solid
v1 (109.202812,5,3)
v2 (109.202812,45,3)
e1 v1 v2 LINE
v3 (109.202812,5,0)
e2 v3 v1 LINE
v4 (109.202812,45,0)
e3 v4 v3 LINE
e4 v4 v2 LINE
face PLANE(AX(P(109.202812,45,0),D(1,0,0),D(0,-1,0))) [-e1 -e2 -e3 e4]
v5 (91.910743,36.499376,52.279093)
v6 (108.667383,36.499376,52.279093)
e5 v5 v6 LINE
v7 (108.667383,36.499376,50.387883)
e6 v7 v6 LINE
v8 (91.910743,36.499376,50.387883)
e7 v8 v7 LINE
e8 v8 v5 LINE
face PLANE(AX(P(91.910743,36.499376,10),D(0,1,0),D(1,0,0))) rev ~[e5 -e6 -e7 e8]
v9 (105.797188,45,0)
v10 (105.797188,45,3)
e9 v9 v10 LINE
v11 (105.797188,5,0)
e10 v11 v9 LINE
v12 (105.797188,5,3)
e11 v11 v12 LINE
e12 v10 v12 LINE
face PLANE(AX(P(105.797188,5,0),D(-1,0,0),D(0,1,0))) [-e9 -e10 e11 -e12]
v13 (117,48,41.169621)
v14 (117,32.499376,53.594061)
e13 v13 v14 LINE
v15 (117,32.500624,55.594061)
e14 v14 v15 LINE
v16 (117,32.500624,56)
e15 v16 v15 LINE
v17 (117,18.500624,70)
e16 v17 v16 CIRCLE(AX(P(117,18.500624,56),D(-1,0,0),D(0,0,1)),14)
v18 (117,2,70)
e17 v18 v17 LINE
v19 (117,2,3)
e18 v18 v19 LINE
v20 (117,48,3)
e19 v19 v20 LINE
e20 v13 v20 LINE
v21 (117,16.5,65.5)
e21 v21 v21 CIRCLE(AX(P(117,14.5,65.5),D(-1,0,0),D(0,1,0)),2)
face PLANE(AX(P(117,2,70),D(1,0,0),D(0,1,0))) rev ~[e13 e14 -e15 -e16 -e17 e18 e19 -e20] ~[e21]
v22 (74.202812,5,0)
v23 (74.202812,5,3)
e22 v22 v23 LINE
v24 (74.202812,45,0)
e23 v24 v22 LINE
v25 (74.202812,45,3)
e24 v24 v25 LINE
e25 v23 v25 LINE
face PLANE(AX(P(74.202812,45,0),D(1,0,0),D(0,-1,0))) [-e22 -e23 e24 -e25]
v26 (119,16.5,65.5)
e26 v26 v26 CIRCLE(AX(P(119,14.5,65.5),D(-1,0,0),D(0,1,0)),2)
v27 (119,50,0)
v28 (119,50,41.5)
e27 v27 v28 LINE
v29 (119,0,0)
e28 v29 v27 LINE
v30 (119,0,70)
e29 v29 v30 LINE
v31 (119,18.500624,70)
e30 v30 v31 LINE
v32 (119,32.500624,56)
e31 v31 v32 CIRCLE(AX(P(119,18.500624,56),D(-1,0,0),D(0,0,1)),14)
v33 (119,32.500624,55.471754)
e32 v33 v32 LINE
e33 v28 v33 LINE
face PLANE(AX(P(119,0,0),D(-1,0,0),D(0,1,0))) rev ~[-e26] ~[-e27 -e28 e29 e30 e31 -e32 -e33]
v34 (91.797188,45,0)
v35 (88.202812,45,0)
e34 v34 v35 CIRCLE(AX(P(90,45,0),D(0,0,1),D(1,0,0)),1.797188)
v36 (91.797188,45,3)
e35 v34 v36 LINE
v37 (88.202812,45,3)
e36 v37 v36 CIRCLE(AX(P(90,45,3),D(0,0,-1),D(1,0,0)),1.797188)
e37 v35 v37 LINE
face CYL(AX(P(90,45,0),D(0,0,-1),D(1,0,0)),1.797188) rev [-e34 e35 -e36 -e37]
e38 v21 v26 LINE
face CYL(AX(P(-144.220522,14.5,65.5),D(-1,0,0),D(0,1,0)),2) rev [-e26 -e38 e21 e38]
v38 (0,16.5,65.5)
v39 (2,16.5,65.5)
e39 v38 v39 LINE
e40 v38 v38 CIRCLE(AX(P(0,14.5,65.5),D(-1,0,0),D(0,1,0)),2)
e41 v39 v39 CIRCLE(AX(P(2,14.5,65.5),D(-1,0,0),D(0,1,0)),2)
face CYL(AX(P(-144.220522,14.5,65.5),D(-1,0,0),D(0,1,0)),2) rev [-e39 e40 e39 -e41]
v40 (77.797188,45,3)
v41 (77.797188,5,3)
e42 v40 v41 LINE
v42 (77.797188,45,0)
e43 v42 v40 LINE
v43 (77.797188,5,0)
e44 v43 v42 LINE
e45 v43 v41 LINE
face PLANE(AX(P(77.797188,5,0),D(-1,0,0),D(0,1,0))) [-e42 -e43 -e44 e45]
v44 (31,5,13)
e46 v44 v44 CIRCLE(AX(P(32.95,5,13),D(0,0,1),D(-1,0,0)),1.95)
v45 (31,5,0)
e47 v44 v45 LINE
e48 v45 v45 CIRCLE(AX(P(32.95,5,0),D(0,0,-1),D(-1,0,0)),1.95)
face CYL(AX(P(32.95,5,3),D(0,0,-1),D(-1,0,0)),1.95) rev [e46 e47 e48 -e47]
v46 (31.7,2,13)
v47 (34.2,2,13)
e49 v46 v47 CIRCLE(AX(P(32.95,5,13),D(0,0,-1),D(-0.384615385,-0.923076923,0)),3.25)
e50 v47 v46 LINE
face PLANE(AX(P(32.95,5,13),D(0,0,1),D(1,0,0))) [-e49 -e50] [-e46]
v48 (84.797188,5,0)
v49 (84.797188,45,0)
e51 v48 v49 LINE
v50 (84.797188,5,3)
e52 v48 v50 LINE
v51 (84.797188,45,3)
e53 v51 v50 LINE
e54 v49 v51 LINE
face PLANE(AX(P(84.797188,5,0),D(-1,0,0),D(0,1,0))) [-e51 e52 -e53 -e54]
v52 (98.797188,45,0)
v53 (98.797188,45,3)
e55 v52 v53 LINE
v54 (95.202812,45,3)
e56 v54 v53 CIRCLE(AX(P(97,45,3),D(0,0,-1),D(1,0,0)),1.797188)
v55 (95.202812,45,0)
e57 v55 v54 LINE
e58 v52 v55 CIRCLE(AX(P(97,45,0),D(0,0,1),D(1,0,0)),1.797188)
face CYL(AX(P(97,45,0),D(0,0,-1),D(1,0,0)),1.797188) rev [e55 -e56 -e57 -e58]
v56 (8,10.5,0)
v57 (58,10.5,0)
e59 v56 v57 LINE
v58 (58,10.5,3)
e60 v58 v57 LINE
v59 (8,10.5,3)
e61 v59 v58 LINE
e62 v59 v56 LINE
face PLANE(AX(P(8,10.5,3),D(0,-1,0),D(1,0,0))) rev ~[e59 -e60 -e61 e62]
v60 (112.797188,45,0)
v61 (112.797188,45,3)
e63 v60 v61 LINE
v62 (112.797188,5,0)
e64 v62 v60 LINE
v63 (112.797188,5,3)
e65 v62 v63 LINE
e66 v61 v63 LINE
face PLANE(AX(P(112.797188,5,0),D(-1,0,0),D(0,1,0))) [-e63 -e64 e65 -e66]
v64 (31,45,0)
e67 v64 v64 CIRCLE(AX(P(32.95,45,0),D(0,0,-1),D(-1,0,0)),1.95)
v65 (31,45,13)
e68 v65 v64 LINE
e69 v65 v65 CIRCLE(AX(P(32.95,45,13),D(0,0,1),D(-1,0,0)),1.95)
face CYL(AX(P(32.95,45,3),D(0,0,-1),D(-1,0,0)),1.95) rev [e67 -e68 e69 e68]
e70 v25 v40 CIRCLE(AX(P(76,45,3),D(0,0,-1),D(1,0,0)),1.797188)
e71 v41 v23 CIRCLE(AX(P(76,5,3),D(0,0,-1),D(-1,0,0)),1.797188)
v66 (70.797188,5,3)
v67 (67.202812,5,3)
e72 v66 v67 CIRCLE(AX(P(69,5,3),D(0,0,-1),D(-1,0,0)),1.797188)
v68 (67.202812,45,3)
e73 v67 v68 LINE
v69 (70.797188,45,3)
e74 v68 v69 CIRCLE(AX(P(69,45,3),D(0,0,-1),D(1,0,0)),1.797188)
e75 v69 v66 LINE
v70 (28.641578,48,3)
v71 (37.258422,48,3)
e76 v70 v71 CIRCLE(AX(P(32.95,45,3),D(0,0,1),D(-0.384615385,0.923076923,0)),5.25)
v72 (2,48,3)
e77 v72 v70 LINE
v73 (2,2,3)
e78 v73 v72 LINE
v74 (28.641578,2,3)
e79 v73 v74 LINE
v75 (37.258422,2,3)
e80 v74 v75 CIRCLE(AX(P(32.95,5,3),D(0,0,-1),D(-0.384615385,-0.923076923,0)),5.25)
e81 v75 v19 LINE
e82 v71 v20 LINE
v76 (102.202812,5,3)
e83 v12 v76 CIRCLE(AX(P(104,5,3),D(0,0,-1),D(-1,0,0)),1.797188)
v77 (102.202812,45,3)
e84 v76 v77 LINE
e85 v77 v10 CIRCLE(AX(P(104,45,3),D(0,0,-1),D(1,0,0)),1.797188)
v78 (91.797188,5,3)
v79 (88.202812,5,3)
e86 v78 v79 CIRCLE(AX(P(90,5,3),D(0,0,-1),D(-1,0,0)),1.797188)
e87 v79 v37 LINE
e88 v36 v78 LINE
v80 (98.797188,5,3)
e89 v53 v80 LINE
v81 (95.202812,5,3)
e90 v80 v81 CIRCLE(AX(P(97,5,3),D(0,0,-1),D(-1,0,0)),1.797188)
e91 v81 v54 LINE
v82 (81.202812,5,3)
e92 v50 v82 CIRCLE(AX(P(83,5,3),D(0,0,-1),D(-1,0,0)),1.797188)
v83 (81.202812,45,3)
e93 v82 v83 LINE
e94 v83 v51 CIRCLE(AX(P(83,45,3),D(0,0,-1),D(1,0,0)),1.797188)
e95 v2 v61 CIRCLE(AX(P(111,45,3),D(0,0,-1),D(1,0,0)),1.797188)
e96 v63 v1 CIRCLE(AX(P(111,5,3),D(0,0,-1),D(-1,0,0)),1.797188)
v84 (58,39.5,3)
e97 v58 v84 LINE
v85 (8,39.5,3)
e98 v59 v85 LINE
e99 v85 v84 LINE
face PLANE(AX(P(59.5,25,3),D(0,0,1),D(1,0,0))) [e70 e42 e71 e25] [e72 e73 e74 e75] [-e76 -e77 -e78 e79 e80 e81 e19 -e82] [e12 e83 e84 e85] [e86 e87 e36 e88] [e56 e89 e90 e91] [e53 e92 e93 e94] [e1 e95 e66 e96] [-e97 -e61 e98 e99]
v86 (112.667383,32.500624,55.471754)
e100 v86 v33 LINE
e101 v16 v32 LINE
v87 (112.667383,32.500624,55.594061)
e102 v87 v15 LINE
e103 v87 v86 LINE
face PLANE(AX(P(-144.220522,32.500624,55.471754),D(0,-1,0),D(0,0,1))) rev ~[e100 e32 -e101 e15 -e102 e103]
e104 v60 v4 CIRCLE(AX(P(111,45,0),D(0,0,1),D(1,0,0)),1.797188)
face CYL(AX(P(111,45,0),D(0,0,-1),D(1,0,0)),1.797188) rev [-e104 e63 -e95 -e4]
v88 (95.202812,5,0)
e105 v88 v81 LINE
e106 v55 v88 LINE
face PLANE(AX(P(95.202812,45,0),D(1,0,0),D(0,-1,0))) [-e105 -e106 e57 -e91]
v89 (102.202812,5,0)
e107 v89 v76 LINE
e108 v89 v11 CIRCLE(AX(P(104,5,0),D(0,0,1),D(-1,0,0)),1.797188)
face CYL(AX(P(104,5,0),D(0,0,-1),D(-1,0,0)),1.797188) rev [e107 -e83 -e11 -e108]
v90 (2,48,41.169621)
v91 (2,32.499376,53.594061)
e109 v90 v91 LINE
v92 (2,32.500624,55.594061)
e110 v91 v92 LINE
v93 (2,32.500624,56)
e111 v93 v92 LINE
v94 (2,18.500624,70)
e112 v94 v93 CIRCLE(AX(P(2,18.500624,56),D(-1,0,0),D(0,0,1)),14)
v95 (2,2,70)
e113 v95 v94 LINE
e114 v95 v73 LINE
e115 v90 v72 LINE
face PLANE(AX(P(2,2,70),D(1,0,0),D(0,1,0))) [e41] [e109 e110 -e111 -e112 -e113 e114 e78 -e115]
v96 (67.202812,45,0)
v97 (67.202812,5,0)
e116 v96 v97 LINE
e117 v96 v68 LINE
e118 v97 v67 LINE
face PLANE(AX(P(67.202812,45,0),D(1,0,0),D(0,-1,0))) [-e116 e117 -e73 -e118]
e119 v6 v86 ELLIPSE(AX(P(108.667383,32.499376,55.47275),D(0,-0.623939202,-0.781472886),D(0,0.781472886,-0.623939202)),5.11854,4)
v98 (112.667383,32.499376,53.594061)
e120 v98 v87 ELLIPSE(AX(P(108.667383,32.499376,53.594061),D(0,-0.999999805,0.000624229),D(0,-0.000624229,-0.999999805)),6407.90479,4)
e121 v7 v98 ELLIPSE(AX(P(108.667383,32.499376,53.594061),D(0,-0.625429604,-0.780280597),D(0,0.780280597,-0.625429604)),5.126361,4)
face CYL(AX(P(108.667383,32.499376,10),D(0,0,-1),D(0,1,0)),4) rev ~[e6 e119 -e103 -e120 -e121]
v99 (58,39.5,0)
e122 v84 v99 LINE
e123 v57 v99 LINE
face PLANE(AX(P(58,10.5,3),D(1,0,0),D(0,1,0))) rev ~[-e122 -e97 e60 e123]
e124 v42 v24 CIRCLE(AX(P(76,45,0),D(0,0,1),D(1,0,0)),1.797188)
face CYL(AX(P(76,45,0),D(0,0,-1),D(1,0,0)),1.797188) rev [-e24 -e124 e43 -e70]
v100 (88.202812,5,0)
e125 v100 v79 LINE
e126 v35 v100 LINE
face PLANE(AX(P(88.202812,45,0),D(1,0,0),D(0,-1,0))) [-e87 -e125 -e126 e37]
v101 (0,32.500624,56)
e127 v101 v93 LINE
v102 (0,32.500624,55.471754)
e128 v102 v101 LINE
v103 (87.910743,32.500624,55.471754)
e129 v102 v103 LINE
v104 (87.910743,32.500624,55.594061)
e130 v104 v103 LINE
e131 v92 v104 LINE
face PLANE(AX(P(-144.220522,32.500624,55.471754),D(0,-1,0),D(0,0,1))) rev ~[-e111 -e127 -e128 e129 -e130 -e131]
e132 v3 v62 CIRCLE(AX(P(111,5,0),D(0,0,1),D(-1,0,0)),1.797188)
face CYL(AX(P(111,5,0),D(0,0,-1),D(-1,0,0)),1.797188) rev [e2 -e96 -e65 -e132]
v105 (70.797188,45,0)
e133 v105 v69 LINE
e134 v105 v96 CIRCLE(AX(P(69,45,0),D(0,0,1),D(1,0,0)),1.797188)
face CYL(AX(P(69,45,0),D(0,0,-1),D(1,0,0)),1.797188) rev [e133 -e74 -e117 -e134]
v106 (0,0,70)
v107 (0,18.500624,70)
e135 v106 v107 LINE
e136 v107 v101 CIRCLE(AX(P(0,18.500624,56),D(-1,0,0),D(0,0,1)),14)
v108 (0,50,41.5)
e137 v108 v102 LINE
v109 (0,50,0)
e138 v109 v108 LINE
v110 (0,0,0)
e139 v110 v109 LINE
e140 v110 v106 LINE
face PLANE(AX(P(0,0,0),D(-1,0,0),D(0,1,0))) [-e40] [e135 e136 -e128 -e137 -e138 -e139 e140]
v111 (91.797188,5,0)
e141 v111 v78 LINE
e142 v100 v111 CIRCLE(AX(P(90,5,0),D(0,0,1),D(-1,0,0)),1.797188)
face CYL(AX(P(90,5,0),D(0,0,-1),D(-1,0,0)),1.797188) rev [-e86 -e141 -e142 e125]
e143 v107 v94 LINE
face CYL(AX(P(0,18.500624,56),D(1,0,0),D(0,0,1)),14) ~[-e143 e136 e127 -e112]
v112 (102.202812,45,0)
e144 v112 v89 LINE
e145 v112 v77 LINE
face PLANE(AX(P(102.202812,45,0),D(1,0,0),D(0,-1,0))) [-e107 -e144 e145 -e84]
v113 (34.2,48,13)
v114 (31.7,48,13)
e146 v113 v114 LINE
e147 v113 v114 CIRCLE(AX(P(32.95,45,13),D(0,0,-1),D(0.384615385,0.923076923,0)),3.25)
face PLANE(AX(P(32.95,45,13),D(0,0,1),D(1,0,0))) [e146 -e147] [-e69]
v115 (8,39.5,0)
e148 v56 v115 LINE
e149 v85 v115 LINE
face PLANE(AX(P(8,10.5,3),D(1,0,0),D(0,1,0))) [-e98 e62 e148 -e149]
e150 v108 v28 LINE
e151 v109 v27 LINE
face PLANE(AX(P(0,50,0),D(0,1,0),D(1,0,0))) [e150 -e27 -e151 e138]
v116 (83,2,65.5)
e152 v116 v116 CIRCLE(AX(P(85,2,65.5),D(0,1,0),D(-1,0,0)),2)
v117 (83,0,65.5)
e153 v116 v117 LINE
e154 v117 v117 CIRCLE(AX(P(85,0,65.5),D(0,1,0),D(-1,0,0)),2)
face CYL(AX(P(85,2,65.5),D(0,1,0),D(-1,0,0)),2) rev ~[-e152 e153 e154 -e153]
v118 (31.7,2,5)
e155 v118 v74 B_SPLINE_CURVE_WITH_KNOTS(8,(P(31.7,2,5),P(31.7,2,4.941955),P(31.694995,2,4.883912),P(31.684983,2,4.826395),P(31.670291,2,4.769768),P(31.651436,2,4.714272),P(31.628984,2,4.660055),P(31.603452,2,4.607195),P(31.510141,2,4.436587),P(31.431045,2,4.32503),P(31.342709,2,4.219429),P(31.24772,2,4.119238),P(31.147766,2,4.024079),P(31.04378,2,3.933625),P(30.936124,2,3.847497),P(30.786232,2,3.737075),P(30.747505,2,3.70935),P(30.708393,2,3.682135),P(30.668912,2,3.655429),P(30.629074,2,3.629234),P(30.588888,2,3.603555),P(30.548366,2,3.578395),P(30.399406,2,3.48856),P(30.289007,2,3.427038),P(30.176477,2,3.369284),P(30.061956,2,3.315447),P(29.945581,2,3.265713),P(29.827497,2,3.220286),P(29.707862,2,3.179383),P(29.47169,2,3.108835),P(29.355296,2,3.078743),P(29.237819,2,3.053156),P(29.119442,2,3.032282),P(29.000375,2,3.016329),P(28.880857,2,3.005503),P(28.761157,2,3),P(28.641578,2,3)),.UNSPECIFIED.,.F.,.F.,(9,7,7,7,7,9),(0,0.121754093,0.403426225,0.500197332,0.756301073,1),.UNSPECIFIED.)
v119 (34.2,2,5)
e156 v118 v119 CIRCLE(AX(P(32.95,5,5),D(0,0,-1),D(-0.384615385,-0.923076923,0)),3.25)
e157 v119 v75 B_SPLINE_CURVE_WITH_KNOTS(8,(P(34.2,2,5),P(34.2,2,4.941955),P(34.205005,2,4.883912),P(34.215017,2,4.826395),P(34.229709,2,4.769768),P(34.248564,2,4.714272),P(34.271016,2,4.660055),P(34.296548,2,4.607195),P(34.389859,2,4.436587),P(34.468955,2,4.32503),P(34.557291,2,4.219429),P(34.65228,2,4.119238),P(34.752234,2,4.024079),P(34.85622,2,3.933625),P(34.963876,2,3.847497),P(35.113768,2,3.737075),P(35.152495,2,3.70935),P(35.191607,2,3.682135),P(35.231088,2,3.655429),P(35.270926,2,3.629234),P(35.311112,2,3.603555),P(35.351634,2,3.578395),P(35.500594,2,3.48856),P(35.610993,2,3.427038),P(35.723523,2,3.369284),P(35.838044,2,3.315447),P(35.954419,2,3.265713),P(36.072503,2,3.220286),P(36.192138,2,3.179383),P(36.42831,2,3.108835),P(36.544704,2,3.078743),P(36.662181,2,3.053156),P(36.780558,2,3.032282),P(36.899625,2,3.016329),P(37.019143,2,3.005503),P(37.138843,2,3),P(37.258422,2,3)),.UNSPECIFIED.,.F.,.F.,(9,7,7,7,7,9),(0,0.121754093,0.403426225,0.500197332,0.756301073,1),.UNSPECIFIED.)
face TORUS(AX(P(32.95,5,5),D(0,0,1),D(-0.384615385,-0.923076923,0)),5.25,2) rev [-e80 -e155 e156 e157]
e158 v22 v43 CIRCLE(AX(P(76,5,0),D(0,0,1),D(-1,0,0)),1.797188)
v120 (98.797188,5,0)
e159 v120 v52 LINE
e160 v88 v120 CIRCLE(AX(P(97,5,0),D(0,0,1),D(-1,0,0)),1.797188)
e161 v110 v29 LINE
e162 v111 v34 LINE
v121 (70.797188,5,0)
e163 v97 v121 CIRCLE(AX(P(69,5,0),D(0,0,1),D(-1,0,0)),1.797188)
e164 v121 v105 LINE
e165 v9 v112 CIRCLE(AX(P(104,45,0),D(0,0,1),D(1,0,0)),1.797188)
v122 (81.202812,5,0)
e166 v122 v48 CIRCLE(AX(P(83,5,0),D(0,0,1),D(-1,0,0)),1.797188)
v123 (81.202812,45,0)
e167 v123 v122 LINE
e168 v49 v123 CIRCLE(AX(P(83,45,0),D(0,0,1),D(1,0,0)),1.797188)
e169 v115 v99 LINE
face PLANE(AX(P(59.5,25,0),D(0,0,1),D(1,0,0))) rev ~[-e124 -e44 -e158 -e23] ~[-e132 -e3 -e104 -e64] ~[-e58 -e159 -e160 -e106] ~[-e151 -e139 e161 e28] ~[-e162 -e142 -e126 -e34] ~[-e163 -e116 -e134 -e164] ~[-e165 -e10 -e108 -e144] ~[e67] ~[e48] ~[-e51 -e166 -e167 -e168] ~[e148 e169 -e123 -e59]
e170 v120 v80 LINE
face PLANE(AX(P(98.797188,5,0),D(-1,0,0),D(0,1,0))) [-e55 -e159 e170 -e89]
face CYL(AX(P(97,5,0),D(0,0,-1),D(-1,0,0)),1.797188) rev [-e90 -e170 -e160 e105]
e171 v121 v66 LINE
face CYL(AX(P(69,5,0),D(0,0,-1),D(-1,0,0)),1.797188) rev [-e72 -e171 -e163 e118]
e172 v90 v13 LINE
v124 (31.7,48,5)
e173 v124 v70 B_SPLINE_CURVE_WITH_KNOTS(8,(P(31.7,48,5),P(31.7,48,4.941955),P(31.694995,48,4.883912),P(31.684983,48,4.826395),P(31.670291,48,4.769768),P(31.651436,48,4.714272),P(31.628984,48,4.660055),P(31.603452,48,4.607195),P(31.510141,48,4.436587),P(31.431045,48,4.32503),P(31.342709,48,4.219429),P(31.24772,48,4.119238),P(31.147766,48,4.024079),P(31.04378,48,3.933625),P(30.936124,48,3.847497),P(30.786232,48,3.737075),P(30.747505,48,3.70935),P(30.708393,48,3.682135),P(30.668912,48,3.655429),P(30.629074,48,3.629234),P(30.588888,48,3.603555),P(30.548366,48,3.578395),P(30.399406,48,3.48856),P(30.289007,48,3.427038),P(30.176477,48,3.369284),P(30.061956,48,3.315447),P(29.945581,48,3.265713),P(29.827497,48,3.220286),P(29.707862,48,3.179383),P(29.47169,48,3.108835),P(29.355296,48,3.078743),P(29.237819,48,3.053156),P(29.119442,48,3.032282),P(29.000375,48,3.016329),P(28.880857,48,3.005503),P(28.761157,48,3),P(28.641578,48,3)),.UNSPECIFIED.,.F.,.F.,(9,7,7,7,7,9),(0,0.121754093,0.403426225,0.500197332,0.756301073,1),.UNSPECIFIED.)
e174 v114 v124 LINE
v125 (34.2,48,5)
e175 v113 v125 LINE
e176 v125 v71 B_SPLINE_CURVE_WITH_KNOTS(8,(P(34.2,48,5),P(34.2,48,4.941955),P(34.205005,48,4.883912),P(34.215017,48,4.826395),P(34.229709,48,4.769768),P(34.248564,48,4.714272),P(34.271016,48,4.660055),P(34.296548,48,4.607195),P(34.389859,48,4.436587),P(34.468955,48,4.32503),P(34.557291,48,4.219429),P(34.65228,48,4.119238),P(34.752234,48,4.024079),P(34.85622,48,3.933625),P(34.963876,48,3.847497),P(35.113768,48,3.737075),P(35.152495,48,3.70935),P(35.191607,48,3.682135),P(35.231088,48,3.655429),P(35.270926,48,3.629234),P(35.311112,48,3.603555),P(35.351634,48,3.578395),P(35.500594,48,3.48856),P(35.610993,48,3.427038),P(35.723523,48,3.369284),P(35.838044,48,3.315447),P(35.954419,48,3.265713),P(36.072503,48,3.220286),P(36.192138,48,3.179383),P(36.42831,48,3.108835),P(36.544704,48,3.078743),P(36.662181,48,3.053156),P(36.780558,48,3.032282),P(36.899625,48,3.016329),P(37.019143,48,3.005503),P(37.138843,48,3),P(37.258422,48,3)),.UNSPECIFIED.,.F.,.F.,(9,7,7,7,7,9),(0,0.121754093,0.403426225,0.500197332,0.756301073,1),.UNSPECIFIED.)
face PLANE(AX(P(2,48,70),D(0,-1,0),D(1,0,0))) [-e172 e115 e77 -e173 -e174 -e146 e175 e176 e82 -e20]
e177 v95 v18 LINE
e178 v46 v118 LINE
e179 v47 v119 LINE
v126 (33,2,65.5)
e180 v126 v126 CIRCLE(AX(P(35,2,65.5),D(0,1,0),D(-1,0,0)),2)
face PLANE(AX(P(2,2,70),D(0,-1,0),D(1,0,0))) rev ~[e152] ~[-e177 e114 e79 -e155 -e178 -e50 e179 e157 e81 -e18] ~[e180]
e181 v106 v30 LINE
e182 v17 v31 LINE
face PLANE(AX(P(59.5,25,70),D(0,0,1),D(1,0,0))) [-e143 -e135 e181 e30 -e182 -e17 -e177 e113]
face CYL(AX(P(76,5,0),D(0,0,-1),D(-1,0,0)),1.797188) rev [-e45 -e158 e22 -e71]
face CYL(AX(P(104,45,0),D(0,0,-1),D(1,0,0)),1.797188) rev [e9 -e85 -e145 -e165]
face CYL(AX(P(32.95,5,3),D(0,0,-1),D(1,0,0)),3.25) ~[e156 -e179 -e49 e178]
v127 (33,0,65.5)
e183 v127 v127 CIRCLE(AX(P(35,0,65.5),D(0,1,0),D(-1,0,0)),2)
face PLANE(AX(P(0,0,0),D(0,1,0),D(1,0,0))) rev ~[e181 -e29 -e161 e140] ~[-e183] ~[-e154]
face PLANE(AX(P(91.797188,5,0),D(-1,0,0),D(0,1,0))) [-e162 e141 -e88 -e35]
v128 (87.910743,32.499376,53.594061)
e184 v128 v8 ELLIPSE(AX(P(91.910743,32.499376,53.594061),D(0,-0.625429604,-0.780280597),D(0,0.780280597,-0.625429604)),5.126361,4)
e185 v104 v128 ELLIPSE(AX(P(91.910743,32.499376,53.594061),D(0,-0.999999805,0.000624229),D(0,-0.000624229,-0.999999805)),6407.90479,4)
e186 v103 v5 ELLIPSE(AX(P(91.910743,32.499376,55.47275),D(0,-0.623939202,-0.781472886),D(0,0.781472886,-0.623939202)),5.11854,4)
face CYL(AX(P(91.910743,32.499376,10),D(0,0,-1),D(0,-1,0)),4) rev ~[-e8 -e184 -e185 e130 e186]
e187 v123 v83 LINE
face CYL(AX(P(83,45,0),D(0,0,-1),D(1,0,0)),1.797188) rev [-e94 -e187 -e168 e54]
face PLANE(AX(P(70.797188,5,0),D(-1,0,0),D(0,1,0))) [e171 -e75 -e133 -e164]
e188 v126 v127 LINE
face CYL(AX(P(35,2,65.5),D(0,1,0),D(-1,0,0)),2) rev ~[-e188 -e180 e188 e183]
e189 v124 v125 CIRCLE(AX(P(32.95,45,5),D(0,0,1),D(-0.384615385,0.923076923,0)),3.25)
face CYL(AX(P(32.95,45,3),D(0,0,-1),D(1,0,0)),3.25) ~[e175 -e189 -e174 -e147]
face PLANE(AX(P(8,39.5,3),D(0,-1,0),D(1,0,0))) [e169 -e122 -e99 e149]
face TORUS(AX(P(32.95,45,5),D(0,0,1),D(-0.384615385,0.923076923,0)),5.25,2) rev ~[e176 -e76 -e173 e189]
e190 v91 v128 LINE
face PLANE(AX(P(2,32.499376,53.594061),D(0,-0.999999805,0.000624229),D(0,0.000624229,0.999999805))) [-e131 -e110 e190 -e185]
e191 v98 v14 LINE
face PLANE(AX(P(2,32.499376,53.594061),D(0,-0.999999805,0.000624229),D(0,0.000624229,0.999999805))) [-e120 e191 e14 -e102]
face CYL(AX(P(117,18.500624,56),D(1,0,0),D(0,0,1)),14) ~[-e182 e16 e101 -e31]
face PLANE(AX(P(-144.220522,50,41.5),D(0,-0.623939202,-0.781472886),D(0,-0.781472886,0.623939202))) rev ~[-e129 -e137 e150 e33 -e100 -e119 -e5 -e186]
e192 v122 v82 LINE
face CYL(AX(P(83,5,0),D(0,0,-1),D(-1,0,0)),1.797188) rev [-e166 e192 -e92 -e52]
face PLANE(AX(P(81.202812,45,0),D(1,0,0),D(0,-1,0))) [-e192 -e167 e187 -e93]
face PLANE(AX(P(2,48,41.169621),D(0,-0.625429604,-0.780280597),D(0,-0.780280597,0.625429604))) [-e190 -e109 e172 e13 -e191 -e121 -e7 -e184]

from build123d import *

# Parameters (mm, degrees)
SKETCH1_W               = 119
SKETCH1_H               = 50
BOSS_EXTRUDE1_DEPTH     = 70
SKETCH2_W               = 115
SKETCH2_H               = 46
CUT_EXTRUDE1_DEPTH      = 67
SKETCH3_W               = 50
SKETCH3_H               = 29
CUT_EXTRUDE2_DEPTH      = 10
SKETCH4_R               = 1.95
CUT_EXTRUDE3_DEPTH      = 10
SKETCH5_R               = 3.25
SKETCH5_R_2             = 1.95
BOSS_EXTRUDE3_DEPTH     = 10
FILLET1_R               = 2
SKETCH6_R               = 2
CUT_EXTRUDE4_DEPTH      = 10
CUT_EXTRUDE5_DEPTH      = 146.220522014
CUT_EXTRUDE5_DEPTH_BACK = 146.220522014
SKETCH8_R               = 2
BOSS_EXTRUDE4_DEPTH     = 115
CUT_EXTRUDE6_DEPTH      = 146.220522014
CUT_EXTRUDE6_DEPTH_BACK = 146.220522014
FILLET2_R               = 14
CUT_EXTRUDE8_DEPTH      = 10
CUT_EXTRUDE9_DEPTH      = 143.341139563


with BuildPart() as part:
    # Sketch1 → Boss-Extrude1 (new body)
    with BuildSketch(Plane.XY):
        with Locations((59.5, 25)):
            Rectangle(SKETCH1_W, SKETCH1_H)
    extrude(amount=BOSS_EXTRUDE1_DEPTH)

    # Sketch2 → Cut-Extrude1 (cut)
    with BuildSketch(Plane.XY.offset(70)):
        with Locations((59.5, 25)):
            Rectangle(SKETCH2_W, SKETCH2_H)
    extrude(amount=-CUT_EXTRUDE1_DEPTH, mode=Mode.SUBTRACT)

    # Sketch3 → Cut-Extrude2 (cut)
    with BuildSketch(Plane.XY.offset(3)):
        with Locations((33, 25)):
            Rectangle(SKETCH3_W, SKETCH3_H)
    extrude(amount=-CUT_EXTRUDE2_DEPTH, mode=Mode.SUBTRACT)

    # Sketch4 → Cut-Extrude3 (cut)
    with BuildSketch(Plane(origin=(0, 0, 0), x_dir=(-1, 0, 0), z_dir=(0, 0, -1))):
        with Locations((-32.95, 45)):
            Circle(SKETCH4_R)
        with Locations((-32.95, 5)):
            Circle(SKETCH4_R)
    extrude(amount=-CUT_EXTRUDE3_DEPTH, mode=Mode.SUBTRACT)

    # Sketch5 → Boss-Extrude3 (add)
    # profile 1 of 2: a face of its own
    with BuildSketch(Plane.XY.offset(3)):
        with Locations((32.95, 45)):
            Circle(SKETCH5_R)
        with Locations(Location((32.95, 45, 0), (0, 0, 180))):
            Circle(SKETCH5_R_2, mode=Mode.SUBTRACT)
    # profile 2 of 2: a face of its own
    with BuildSketch(Plane.XY.offset(3)):
        with Locations((32.95, 5)):
            Circle(SKETCH5_R)
        with Locations(Location((32.95, 5, 0), (0, 0, 180))):
            Circle(SKETCH5_R_2, mode=Mode.SUBTRACT)
    extrude(amount=BOSS_EXTRUDE3_DEPTH)

    # Fillet1
    fillet1_edges = [part.edges().sort_by_distance(p)[0] for p in [
        (31.147224362, 42.295836543, 3),
        (31.147224362, 7.704163457, 3),
    ]]
    fillet(fillet1_edges, radius=FILLET1_R)

    # Sketch6 → Cut-Extrude4 (cut)
    with BuildSketch(Plane(origin=(0, 2, 0), x_dir=(1, 0, 0), z_dir=(0, 1, 0))):
        with Locations(Location((85, -65.5, 0), (0, 0, 180))):
            Circle(SKETCH6_R)
        with Locations(Location((35, -65.5, 0), (0, 0, 180))):
            Circle(SKETCH6_R)
    extrude(amount=-CUT_EXTRUDE4_DEPTH, mode=Mode.SUBTRACT)

    # Sketch8 → Cut-Extrude5 (cut, two sides: drawn at the far end of the back side and taken through both)
    with BuildSketch(Plane(origin=(2, 0, 0), x_dir=(0, 0, -1), z_dir=(1, 0, 0)).offset(-CUT_EXTRUDE5_DEPTH_BACK)):
        with Locations(Location((-65.5, 14.5, 0), (0, 0, 90))):
            Circle(SKETCH8_R)
    extrude(amount=CUT_EXTRUDE5_DEPTH + CUT_EXTRUDE5_DEPTH_BACK, mode=Mode.SUBTRACT)

    # Sketch9 → Boss-Extrude4 (add)
    with BuildSketch(Plane(origin=(2, 0, 0), x_dir=(0, 0, -1), z_dir=(1, 0, 0))):
        Polygon((-55.594060536, 32.500624229), (-43.169621176, 48), (-41.169621176, 48), (-53.594060926, 32.499375771), align=None)
    extrude(amount=BOSS_EXTRUDE4_DEPTH)

    # Sketch10 → Cut-Extrude6 (cut, two sides: drawn at the far end of the back side and taken through both)
    with BuildSketch(Plane(origin=(2, 0, 0), x_dir=(0, 0, -1), z_dir=(1, 0, 0)).offset(-CUT_EXTRUDE6_DEPTH_BACK)):
        Polygon((-55.471753528, 32.500624229), (-70, 32.500624229), (-70, 50), (-41.5, 50), align=None)
    extrude(amount=CUT_EXTRUDE6_DEPTH + CUT_EXTRUDE6_DEPTH_BACK, mode=Mode.SUBTRACT)

    # Fillet2
    fillet2_edges = [part.edges().sort_by_distance(p)[0] for p in [
        (118, 32.500624229, 70),
        (1, 32.500624229, 70),
    ]]
    fillet(fillet2_edges, radius=FILLET2_R)

    # Sketch11 → Cut-Extrude8 (cut)
    with BuildSketch(Plane(origin=(0, 0, 0), x_dir=(-1, 0, 0), z_dir=(0, 0, -1))):
        with BuildLine():
            Line((-109.202811856, 45), (-109.202811856, 5))
            ThreePointArc((-109.202811856, 5), (-111, 3.202811856), (-112.797188144, 5))
            Line((-112.797188144, 5), (-112.797188144, 45))
            ThreePointArc((-112.797188144, 45), (-111, 46.797188144), (-109.202811856, 45))
        make_face()
        with BuildLine():
            Line((-102.202811856, 45), (-102.202811856, 5))
            ThreePointArc((-102.202811856, 5), (-104, 3.202811856), (-105.797188144, 5))
            Line((-105.797188144, 5), (-105.797188144, 45))
            ThreePointArc((-105.797188144, 45), (-104, 46.797188144), (-102.202811856, 45))
        make_face()
        with BuildLine():
            Line((-95.202811856, 45), (-95.202811856, 5))
            ThreePointArc((-95.202811856, 5), (-97, 3.202811856), (-98.797188144, 5))
            Line((-98.797188144, 5), (-98.797188144, 45))
            ThreePointArc((-98.797188144, 45), (-97, 46.797188144), (-95.202811856, 45))
        make_face()
        with BuildLine():
            Line((-88.202811856, 45), (-88.202811856, 5))
            ThreePointArc((-88.202811856, 5), (-90, 3.202811856), (-91.797188144, 5))
            Line((-91.797188144, 5), (-91.797188144, 45))
            ThreePointArc((-91.797188144, 45), (-90, 46.797188144), (-88.202811856, 45))
        make_face()
        with BuildLine():
            Line((-81.202811856, 45), (-81.202811856, 5))
            ThreePointArc((-81.202811856, 5), (-83, 3.202811856), (-84.797188144, 5))
            Line((-84.797188144, 5), (-84.797188144, 45))
            ThreePointArc((-84.797188144, 45), (-83, 46.797188144), (-81.202811856, 45))
        make_face()
        with BuildLine():
            Line((-74.202811856, 45), (-74.202811856, 5))
            ThreePointArc((-74.202811856, 5), (-76, 3.202811856), (-77.797188144, 5))
            Line((-77.797188144, 5), (-77.797188144, 45))
            ThreePointArc((-77.797188144, 45), (-76, 46.797188144), (-74.202811856, 45))
        make_face()
        with BuildLine():
            Line((-67.202811856, 45), (-67.202811856, 5))
            ThreePointArc((-67.202811856, 5), (-69, 3.202811856), (-70.797188144, 5))
            Line((-70.797188144, 5), (-70.797188144, 45))
            ThreePointArc((-70.797188144, 45), (-69, 46.797188144), (-67.202811856, 45))
        make_face()
    extrude(amount=-CUT_EXTRUDE8_DEPTH, mode=Mode.SUBTRACT)

    # Sketch12 → Cut-Extrude9 (cut, through all)
    with BuildSketch(Plane.XY.offset(10)):
        with BuildLine():
            Line((108.667383108, 28.499375771), (91.910743178, 28.499375771))
            ThreePointArc((91.910743178, 28.499375771), (87.910743178, 32.499375771), (91.910743178, 36.499375771))
            Line((91.910743178, 36.499375771), (108.667383108, 36.499375771))
            ThreePointArc((108.667383108, 36.499375771), (112.667383108, 32.499375771), (108.667383108, 28.499375771))
        make_face()
    extrude(amount=CUT_EXTRUDE9_DEPTH, mode=Mode.SUBTRACT)


solid = part.part
